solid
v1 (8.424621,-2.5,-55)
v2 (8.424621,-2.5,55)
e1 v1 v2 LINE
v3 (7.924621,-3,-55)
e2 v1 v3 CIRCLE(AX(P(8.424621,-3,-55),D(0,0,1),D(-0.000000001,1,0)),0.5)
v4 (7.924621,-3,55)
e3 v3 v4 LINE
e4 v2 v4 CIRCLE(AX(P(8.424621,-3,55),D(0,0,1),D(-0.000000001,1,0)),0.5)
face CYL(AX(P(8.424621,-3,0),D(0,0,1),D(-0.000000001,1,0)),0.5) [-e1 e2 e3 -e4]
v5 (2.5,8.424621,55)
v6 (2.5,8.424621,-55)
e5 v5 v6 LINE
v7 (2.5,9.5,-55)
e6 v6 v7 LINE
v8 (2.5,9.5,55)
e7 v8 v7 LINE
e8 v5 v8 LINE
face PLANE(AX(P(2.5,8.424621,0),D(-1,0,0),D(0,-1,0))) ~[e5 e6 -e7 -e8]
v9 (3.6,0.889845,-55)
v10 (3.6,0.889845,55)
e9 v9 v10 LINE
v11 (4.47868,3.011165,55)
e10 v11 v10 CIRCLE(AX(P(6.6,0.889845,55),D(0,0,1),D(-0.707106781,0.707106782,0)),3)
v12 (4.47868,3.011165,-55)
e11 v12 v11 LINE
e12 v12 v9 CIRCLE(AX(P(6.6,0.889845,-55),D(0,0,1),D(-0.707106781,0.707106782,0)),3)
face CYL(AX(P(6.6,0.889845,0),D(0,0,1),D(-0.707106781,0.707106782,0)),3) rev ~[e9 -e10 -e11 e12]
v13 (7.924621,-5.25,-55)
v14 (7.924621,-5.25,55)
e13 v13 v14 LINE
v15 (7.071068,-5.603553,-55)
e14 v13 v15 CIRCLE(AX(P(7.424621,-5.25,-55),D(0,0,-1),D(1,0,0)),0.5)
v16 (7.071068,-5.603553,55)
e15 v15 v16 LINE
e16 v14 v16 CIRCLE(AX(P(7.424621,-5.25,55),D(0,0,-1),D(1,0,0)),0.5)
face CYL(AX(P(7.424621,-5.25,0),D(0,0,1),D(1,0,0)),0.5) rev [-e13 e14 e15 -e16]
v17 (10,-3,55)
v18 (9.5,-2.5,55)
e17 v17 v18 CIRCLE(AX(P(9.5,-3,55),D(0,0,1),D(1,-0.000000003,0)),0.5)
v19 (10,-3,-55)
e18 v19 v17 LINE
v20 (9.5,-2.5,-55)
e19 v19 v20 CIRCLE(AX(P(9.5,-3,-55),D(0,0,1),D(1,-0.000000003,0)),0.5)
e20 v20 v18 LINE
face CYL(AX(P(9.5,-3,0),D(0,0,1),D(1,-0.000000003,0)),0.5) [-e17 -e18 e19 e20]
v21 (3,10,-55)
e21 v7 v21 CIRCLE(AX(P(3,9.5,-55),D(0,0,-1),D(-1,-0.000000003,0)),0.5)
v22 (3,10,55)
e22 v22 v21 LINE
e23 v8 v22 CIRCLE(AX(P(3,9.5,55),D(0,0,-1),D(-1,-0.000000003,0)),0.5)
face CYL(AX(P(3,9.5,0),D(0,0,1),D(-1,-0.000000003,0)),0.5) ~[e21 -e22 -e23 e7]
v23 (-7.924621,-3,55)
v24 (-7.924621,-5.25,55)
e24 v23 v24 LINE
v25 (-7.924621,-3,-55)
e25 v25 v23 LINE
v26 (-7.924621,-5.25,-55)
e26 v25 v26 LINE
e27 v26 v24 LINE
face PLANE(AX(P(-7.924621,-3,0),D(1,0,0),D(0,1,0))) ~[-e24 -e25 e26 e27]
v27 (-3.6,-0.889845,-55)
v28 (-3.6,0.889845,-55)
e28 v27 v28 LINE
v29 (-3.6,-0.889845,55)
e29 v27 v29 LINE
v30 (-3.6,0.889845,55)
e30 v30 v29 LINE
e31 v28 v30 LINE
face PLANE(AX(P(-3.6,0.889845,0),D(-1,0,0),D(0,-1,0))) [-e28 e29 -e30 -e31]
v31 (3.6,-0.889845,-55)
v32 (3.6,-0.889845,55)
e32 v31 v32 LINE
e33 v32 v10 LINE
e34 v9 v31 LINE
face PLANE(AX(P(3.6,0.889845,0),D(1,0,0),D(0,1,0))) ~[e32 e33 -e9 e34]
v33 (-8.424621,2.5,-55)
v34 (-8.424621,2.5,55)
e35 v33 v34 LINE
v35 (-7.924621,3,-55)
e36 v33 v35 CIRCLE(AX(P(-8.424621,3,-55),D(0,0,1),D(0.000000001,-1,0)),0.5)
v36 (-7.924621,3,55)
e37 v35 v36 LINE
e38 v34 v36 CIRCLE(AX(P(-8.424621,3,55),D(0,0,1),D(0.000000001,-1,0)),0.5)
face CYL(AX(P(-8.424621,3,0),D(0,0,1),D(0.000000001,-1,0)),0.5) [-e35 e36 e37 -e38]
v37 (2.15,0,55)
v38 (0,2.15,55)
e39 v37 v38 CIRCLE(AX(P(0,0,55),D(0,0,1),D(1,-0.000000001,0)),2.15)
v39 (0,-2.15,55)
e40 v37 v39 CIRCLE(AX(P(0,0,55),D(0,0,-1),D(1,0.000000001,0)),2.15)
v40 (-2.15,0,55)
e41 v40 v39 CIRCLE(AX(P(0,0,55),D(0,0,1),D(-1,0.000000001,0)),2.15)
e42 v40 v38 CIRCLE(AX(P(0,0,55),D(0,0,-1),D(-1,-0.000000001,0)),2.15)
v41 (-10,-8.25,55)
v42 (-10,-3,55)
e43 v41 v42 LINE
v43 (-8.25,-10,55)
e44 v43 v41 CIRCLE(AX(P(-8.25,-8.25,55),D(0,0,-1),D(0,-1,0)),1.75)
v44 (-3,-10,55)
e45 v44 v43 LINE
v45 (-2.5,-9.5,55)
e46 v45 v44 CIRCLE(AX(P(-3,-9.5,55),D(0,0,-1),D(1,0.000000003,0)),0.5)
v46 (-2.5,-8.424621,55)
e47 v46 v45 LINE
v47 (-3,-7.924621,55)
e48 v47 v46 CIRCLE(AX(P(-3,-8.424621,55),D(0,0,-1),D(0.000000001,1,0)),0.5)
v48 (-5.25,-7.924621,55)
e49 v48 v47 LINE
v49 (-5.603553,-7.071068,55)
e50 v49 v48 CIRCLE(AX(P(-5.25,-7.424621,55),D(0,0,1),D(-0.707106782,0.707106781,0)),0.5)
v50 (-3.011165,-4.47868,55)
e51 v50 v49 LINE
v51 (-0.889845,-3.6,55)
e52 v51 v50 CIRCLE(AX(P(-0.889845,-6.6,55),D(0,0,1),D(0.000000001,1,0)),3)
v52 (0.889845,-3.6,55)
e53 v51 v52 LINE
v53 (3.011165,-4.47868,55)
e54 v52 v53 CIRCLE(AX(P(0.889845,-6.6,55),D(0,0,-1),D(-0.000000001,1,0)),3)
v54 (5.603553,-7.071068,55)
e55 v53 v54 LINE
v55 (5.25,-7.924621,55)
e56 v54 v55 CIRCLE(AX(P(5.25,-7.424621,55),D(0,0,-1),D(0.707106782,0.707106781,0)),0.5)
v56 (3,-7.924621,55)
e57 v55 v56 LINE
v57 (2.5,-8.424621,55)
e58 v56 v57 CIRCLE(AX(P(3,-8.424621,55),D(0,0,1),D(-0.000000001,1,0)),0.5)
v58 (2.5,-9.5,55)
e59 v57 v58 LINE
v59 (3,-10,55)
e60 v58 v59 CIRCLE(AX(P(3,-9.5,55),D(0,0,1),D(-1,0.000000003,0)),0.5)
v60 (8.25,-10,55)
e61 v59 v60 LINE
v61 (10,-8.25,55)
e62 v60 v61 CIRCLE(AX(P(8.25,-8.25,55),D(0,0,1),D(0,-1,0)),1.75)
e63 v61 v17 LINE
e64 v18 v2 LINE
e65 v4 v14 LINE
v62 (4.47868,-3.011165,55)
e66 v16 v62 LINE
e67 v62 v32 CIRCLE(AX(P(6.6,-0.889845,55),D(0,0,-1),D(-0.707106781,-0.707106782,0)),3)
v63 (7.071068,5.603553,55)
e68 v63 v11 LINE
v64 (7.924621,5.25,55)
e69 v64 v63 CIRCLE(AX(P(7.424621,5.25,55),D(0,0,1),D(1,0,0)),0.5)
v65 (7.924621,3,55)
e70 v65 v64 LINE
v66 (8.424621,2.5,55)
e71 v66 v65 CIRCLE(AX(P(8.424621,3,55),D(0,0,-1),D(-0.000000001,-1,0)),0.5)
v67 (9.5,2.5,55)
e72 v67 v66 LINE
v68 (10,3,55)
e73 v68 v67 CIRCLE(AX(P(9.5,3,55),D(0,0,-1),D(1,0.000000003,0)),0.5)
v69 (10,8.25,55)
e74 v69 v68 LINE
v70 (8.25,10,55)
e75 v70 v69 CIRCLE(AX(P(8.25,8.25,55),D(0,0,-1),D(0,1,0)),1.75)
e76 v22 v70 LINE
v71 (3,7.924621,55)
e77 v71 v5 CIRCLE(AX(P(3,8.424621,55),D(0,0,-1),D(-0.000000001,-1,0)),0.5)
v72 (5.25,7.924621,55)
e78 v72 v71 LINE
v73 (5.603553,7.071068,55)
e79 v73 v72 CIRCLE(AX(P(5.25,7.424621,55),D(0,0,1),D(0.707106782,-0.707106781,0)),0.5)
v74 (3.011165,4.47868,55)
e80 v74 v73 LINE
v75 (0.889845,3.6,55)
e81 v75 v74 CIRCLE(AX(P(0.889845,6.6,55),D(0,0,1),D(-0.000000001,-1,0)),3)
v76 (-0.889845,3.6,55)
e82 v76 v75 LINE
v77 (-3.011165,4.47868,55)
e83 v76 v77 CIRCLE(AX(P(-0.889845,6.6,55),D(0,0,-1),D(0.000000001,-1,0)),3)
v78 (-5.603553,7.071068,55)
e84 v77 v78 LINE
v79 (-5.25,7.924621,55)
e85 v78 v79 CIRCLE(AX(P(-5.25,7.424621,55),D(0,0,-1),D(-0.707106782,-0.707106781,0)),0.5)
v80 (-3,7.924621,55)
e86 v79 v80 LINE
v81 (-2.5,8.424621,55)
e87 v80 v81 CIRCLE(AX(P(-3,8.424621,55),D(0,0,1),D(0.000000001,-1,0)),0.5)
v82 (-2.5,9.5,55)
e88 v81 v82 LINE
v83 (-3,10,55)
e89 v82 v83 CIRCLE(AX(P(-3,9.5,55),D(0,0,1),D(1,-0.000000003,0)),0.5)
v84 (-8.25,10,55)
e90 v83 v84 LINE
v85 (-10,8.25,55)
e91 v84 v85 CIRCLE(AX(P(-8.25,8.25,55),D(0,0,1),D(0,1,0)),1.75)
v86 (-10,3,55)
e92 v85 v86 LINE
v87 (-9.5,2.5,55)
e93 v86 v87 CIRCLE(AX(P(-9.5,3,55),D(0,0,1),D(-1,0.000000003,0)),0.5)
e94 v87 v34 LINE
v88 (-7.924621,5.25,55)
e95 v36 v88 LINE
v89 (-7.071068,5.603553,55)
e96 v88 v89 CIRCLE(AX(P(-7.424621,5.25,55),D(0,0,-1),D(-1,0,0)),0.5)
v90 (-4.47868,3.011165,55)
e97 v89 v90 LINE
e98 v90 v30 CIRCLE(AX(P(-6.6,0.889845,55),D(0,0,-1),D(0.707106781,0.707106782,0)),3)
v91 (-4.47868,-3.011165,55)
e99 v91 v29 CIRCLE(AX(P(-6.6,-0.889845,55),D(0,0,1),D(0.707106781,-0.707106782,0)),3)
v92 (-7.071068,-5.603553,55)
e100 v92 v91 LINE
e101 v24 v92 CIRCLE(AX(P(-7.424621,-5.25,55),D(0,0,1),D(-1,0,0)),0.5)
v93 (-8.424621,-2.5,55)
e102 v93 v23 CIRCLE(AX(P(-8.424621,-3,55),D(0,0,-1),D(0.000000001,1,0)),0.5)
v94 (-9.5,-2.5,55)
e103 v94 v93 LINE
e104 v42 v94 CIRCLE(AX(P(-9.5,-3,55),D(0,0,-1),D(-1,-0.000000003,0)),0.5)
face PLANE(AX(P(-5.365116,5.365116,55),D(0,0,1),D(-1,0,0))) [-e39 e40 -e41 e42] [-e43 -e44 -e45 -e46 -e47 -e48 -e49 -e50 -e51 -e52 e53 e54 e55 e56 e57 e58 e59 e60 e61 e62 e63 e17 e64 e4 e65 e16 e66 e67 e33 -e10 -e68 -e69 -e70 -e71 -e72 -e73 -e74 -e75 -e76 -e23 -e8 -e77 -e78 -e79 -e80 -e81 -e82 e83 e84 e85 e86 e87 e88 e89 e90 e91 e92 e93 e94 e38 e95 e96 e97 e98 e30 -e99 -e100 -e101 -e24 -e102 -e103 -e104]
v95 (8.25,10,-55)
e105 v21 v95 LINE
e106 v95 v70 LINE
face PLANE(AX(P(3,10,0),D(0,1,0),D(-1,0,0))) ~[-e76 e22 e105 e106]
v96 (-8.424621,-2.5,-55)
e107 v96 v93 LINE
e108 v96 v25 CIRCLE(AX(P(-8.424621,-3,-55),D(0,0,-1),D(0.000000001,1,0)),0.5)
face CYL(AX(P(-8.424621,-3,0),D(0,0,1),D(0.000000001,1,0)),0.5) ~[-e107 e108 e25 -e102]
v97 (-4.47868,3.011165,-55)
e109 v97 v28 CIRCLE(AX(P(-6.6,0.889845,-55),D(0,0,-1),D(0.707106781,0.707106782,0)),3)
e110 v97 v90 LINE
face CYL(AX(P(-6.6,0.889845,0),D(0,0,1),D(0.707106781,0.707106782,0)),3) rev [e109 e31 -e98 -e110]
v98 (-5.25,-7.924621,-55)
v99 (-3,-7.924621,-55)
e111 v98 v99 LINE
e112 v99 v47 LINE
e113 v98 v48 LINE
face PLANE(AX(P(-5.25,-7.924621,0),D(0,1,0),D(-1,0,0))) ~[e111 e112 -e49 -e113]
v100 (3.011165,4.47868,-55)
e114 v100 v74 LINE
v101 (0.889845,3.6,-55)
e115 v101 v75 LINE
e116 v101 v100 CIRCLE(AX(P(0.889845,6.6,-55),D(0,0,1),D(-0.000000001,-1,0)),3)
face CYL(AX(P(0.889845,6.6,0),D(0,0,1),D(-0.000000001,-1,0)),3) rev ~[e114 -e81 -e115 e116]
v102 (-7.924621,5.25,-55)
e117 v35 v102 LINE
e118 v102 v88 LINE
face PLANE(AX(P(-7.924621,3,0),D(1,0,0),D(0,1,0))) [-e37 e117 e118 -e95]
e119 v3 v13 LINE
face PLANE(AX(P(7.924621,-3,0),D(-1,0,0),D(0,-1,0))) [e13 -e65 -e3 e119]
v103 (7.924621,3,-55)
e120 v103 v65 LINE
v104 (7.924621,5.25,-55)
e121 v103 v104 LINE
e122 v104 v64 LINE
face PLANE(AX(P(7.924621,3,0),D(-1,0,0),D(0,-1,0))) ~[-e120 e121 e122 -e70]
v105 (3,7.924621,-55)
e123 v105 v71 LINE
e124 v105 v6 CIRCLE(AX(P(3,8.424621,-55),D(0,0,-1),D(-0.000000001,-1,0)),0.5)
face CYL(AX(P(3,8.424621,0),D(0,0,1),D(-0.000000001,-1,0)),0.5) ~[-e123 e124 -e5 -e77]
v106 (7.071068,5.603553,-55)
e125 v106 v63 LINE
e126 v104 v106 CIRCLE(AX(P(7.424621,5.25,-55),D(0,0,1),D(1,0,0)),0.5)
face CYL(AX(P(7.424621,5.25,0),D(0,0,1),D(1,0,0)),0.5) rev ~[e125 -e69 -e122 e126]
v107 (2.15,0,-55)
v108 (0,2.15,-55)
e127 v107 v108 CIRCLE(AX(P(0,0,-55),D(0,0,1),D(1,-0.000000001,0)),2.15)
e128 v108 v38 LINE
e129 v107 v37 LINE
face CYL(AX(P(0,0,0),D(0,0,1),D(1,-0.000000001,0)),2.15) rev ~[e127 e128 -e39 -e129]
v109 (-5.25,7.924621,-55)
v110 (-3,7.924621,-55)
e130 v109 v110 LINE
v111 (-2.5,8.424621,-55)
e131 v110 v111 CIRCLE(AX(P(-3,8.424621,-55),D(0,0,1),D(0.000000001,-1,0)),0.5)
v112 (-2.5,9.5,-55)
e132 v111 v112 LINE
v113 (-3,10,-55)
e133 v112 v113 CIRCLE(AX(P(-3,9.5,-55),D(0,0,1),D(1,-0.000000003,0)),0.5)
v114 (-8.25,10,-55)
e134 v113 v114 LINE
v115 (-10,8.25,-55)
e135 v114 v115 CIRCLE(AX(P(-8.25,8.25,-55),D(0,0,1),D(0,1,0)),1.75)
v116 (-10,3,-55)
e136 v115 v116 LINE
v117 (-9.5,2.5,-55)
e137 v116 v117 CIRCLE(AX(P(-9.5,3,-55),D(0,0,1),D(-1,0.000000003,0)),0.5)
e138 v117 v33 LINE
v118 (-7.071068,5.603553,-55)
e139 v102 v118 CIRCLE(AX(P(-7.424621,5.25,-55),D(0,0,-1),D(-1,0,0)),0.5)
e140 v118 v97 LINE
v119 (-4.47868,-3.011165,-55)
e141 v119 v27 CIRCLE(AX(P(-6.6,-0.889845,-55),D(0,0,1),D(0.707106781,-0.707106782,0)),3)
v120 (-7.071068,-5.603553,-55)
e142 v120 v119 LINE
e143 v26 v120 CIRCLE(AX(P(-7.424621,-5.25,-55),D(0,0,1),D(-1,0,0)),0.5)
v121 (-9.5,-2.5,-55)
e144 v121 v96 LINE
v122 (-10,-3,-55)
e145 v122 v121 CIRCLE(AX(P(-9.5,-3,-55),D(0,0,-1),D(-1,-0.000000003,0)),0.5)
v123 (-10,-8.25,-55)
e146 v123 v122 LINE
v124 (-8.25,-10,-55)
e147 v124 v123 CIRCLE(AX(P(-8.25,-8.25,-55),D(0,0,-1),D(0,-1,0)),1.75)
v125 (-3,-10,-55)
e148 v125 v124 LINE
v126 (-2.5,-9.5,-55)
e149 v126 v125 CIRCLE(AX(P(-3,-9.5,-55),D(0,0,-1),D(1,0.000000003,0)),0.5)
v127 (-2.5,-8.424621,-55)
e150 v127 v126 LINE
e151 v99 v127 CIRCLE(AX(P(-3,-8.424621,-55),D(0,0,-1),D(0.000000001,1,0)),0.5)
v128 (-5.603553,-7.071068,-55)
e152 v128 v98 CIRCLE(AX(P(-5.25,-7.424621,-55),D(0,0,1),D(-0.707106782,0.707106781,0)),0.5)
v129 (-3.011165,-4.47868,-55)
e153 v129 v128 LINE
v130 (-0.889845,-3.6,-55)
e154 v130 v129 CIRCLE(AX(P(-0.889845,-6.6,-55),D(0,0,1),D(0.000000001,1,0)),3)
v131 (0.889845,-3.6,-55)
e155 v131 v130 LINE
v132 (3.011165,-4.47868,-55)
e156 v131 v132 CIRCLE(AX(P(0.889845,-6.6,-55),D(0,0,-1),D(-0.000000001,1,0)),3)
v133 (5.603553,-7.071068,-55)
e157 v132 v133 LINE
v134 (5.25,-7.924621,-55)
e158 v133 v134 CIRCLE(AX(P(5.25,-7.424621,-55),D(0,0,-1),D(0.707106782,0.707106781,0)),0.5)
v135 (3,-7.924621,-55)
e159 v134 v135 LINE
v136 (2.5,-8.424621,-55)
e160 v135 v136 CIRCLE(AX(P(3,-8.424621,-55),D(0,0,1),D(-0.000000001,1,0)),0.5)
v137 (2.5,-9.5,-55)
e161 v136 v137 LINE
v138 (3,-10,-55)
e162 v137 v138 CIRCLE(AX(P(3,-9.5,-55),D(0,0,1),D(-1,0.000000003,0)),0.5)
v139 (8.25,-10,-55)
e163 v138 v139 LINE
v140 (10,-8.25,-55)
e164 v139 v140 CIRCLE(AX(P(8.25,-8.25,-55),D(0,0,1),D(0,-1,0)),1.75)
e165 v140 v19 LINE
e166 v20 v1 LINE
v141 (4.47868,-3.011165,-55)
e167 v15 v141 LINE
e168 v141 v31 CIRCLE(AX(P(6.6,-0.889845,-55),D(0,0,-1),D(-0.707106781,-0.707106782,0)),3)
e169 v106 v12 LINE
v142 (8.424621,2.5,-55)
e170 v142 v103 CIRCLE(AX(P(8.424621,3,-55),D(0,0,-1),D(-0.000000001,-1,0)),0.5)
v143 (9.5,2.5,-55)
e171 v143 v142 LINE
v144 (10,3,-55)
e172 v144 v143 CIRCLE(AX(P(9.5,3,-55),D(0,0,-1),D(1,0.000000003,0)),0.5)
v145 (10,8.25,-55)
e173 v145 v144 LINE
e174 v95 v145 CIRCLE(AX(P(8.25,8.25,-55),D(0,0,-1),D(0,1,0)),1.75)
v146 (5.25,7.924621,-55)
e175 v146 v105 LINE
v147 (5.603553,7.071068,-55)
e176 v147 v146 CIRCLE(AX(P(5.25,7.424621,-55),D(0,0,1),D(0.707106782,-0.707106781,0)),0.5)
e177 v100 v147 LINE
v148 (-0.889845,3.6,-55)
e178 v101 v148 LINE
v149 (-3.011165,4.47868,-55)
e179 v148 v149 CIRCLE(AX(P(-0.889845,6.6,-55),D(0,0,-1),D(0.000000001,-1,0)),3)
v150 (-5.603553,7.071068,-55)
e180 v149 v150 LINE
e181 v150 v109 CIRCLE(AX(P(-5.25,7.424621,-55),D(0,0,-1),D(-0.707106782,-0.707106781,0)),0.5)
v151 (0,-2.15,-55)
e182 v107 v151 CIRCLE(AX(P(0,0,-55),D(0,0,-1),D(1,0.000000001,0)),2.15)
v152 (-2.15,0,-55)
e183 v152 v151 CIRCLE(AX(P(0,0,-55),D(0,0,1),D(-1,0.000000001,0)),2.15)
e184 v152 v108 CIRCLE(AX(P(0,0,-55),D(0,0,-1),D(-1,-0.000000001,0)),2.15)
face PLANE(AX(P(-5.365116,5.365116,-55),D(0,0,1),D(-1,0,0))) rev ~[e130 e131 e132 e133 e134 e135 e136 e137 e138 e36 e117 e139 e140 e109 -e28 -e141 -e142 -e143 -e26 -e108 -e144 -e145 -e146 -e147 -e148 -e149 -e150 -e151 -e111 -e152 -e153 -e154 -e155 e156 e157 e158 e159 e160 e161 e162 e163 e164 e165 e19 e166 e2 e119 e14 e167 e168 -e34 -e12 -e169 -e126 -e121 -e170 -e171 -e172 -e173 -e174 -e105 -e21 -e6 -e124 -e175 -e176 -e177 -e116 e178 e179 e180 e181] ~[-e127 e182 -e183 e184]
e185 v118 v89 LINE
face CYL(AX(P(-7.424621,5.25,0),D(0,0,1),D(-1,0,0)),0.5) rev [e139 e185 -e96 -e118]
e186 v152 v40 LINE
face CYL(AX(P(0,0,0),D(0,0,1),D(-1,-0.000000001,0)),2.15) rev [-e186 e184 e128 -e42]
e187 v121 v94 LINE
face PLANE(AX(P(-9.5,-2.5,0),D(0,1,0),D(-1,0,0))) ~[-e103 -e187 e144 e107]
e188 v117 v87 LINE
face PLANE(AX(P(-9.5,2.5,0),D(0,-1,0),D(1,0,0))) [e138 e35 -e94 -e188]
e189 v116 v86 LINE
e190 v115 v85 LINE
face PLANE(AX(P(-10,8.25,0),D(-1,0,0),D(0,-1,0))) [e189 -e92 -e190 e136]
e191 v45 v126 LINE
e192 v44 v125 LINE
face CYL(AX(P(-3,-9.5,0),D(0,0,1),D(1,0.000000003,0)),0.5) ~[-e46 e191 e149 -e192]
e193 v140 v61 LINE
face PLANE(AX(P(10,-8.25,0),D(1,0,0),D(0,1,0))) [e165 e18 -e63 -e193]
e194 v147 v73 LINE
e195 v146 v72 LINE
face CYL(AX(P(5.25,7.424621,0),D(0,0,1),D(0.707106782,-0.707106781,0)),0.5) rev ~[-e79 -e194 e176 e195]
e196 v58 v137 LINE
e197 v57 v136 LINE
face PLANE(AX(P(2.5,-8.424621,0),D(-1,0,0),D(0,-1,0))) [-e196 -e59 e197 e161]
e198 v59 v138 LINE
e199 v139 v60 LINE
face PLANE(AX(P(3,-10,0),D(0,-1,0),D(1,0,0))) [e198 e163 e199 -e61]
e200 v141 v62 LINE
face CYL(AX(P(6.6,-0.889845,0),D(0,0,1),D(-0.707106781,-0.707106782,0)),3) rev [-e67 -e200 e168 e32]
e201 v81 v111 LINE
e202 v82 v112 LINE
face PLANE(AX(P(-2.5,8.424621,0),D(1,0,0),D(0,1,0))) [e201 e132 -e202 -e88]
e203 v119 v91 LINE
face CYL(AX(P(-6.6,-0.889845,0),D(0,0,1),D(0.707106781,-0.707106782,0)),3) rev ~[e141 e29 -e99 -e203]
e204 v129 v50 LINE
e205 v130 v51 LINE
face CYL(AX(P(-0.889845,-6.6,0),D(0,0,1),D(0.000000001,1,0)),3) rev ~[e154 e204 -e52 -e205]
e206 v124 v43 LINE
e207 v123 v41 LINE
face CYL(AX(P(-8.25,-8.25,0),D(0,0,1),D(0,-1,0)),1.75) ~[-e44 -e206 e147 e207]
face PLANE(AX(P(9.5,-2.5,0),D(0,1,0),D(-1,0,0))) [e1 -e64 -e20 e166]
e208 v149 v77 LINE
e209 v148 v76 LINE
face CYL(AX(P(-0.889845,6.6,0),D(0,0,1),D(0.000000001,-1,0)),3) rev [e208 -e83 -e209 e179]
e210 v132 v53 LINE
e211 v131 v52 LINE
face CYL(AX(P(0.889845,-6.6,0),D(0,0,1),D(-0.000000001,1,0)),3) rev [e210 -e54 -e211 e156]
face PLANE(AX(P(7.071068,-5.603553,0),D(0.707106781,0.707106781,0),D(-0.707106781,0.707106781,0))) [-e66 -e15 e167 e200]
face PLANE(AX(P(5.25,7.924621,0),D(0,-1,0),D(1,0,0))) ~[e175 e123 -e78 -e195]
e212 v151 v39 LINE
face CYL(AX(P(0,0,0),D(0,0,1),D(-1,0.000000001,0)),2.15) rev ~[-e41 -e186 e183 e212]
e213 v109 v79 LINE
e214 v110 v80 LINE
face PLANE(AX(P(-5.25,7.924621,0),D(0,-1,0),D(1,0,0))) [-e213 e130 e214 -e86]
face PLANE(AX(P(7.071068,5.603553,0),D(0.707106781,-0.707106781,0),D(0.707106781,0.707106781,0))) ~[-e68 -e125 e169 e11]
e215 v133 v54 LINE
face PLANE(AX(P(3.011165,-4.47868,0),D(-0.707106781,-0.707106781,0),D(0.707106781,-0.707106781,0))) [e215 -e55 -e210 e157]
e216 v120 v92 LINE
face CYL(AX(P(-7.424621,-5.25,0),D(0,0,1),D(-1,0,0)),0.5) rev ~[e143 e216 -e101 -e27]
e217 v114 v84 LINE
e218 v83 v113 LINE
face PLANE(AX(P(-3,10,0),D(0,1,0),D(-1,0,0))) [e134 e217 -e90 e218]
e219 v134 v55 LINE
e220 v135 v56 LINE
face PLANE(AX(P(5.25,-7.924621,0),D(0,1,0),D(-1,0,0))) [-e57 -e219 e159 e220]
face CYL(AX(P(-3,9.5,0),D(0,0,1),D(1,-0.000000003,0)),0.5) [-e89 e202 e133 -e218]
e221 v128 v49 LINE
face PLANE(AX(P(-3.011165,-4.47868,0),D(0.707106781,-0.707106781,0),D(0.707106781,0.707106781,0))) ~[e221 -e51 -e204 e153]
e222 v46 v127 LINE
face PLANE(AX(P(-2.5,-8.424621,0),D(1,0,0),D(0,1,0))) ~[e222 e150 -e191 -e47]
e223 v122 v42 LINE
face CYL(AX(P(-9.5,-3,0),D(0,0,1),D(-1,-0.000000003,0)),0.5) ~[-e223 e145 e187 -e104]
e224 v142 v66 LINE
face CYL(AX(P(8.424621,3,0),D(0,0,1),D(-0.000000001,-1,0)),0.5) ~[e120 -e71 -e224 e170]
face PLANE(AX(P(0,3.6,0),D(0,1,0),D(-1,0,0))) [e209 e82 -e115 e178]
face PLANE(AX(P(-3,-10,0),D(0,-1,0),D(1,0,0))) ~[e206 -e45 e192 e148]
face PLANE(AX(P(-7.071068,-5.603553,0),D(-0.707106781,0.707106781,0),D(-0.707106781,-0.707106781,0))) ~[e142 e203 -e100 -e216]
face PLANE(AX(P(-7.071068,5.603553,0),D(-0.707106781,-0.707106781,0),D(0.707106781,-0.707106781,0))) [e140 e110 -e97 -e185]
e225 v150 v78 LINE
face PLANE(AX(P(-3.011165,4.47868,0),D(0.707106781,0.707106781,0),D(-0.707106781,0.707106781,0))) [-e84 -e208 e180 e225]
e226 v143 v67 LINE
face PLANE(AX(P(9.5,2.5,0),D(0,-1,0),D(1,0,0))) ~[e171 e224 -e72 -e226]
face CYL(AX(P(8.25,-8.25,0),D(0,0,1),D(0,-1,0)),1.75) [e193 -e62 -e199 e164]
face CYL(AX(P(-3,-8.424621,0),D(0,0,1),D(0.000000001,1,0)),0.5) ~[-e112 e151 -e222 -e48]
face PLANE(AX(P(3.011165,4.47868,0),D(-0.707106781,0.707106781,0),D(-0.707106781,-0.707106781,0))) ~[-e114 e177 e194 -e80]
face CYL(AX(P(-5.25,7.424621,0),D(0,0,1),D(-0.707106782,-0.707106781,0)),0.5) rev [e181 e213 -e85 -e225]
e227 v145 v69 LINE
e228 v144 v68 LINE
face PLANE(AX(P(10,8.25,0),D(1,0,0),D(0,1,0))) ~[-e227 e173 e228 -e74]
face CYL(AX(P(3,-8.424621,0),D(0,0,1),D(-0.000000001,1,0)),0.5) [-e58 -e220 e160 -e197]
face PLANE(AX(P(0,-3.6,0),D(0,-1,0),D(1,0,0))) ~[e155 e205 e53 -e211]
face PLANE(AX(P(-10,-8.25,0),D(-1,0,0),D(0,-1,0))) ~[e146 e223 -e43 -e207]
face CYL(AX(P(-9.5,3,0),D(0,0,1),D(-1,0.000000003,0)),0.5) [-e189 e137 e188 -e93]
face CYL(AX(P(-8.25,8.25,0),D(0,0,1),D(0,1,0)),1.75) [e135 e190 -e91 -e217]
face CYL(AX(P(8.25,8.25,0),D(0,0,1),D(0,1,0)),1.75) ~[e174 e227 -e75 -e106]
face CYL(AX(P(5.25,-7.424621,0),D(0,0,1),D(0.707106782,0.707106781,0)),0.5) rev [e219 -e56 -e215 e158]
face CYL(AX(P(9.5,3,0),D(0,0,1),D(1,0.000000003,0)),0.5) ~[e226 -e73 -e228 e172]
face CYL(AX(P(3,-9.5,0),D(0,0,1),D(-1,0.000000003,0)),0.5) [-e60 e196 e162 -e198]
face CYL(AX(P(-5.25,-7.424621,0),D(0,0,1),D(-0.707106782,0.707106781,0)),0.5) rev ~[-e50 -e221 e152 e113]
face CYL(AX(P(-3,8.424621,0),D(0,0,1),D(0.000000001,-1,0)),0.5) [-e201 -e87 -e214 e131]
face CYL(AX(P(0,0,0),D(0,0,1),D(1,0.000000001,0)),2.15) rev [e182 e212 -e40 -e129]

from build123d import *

# Parameters (mm, degrees)
BOSS_EXTRUDE1_DEPTH = 55


with BuildPart() as part:
    # Sketch4 → Boss-Extrude1 (new, symmetric)
    with BuildSketch(Plane.XY):
        with BuildLine():
            Line((3, -10), (8.25, -10))
            ThreePointArc((8.25, -10), (9.487436867, -9.487436867), (10, -8.25))
            Line((10, -8.25), (10, -3))
            ThreePointArc((10, -3), (9.853553391, -2.646446609), (9.5, -2.5))
            Line((9.5, -2.5), (8.424621202, -2.5))
            ThreePointArc((8.424621202, -2.5), (8.071067812, -2.646446609), (7.924621202, -3))
            Line((7.924621202, -3), (7.924621202, -5.25))
            ThreePointArc((7.924621202, -5.25), (7.615962919, -5.711939766), (7.071067812, -5.603553391))
            Line((7.071067812, -5.603553391), (4.478679656, -3.011165235))
            ThreePointArc((4.478679656, -3.011165235), (3.828361402, -2.037895189), (3.6, -0.889844892))
            Line((3.6, -0.889844892), (3.6, 0))
            Line((3.6, 0), (2.15, 0))
            ThreePointArc((2.15, 0), (1.52027958, -1.52027958), (0, -2.15))
            Line((0, -2.15), (0, -3.6))
            Line((0, -3.6), (0.889844892, -3.6))
            ThreePointArc((0.889844892, -3.6), (2.037895189, -3.828361402), (3.011165235, -4.478679656))
            Line((3.011165235, -4.478679656), (5.603553391, -7.071067812))
            ThreePointArc((5.603553391, -7.071067812), (5.711939766, -7.615962919), (5.25, -7.924621202))
            Line((5.25, -7.924621202), (3, -7.924621202))
            ThreePointArc((3, -7.924621202), (2.646446609, -8.071067812), (2.5, -8.424621202))
            Line((2.5, -8.424621202), (2.5, -9.5))
            ThreePointArc((2.5, -9.5), (2.646446609, -9.853553391), (3, -10))
        make_face()
    extrude(amount=BOSS_EXTRUDE1_DEPTH, both=True)

    # Mirror1: part across plane


with BuildPart() as part_1:
    add(part.part)
    add(part.part.mirror(Plane(origin=(0, 0, 0), x_dir=(0, 0, 1), z_dir=(1, 0, 0))))

    # Mirror2: part across plane


with BuildPart() as part_2:
    add(part_1.part)
    add(part_1.part.mirror(Plane.ZX))


solid = part_2.part
